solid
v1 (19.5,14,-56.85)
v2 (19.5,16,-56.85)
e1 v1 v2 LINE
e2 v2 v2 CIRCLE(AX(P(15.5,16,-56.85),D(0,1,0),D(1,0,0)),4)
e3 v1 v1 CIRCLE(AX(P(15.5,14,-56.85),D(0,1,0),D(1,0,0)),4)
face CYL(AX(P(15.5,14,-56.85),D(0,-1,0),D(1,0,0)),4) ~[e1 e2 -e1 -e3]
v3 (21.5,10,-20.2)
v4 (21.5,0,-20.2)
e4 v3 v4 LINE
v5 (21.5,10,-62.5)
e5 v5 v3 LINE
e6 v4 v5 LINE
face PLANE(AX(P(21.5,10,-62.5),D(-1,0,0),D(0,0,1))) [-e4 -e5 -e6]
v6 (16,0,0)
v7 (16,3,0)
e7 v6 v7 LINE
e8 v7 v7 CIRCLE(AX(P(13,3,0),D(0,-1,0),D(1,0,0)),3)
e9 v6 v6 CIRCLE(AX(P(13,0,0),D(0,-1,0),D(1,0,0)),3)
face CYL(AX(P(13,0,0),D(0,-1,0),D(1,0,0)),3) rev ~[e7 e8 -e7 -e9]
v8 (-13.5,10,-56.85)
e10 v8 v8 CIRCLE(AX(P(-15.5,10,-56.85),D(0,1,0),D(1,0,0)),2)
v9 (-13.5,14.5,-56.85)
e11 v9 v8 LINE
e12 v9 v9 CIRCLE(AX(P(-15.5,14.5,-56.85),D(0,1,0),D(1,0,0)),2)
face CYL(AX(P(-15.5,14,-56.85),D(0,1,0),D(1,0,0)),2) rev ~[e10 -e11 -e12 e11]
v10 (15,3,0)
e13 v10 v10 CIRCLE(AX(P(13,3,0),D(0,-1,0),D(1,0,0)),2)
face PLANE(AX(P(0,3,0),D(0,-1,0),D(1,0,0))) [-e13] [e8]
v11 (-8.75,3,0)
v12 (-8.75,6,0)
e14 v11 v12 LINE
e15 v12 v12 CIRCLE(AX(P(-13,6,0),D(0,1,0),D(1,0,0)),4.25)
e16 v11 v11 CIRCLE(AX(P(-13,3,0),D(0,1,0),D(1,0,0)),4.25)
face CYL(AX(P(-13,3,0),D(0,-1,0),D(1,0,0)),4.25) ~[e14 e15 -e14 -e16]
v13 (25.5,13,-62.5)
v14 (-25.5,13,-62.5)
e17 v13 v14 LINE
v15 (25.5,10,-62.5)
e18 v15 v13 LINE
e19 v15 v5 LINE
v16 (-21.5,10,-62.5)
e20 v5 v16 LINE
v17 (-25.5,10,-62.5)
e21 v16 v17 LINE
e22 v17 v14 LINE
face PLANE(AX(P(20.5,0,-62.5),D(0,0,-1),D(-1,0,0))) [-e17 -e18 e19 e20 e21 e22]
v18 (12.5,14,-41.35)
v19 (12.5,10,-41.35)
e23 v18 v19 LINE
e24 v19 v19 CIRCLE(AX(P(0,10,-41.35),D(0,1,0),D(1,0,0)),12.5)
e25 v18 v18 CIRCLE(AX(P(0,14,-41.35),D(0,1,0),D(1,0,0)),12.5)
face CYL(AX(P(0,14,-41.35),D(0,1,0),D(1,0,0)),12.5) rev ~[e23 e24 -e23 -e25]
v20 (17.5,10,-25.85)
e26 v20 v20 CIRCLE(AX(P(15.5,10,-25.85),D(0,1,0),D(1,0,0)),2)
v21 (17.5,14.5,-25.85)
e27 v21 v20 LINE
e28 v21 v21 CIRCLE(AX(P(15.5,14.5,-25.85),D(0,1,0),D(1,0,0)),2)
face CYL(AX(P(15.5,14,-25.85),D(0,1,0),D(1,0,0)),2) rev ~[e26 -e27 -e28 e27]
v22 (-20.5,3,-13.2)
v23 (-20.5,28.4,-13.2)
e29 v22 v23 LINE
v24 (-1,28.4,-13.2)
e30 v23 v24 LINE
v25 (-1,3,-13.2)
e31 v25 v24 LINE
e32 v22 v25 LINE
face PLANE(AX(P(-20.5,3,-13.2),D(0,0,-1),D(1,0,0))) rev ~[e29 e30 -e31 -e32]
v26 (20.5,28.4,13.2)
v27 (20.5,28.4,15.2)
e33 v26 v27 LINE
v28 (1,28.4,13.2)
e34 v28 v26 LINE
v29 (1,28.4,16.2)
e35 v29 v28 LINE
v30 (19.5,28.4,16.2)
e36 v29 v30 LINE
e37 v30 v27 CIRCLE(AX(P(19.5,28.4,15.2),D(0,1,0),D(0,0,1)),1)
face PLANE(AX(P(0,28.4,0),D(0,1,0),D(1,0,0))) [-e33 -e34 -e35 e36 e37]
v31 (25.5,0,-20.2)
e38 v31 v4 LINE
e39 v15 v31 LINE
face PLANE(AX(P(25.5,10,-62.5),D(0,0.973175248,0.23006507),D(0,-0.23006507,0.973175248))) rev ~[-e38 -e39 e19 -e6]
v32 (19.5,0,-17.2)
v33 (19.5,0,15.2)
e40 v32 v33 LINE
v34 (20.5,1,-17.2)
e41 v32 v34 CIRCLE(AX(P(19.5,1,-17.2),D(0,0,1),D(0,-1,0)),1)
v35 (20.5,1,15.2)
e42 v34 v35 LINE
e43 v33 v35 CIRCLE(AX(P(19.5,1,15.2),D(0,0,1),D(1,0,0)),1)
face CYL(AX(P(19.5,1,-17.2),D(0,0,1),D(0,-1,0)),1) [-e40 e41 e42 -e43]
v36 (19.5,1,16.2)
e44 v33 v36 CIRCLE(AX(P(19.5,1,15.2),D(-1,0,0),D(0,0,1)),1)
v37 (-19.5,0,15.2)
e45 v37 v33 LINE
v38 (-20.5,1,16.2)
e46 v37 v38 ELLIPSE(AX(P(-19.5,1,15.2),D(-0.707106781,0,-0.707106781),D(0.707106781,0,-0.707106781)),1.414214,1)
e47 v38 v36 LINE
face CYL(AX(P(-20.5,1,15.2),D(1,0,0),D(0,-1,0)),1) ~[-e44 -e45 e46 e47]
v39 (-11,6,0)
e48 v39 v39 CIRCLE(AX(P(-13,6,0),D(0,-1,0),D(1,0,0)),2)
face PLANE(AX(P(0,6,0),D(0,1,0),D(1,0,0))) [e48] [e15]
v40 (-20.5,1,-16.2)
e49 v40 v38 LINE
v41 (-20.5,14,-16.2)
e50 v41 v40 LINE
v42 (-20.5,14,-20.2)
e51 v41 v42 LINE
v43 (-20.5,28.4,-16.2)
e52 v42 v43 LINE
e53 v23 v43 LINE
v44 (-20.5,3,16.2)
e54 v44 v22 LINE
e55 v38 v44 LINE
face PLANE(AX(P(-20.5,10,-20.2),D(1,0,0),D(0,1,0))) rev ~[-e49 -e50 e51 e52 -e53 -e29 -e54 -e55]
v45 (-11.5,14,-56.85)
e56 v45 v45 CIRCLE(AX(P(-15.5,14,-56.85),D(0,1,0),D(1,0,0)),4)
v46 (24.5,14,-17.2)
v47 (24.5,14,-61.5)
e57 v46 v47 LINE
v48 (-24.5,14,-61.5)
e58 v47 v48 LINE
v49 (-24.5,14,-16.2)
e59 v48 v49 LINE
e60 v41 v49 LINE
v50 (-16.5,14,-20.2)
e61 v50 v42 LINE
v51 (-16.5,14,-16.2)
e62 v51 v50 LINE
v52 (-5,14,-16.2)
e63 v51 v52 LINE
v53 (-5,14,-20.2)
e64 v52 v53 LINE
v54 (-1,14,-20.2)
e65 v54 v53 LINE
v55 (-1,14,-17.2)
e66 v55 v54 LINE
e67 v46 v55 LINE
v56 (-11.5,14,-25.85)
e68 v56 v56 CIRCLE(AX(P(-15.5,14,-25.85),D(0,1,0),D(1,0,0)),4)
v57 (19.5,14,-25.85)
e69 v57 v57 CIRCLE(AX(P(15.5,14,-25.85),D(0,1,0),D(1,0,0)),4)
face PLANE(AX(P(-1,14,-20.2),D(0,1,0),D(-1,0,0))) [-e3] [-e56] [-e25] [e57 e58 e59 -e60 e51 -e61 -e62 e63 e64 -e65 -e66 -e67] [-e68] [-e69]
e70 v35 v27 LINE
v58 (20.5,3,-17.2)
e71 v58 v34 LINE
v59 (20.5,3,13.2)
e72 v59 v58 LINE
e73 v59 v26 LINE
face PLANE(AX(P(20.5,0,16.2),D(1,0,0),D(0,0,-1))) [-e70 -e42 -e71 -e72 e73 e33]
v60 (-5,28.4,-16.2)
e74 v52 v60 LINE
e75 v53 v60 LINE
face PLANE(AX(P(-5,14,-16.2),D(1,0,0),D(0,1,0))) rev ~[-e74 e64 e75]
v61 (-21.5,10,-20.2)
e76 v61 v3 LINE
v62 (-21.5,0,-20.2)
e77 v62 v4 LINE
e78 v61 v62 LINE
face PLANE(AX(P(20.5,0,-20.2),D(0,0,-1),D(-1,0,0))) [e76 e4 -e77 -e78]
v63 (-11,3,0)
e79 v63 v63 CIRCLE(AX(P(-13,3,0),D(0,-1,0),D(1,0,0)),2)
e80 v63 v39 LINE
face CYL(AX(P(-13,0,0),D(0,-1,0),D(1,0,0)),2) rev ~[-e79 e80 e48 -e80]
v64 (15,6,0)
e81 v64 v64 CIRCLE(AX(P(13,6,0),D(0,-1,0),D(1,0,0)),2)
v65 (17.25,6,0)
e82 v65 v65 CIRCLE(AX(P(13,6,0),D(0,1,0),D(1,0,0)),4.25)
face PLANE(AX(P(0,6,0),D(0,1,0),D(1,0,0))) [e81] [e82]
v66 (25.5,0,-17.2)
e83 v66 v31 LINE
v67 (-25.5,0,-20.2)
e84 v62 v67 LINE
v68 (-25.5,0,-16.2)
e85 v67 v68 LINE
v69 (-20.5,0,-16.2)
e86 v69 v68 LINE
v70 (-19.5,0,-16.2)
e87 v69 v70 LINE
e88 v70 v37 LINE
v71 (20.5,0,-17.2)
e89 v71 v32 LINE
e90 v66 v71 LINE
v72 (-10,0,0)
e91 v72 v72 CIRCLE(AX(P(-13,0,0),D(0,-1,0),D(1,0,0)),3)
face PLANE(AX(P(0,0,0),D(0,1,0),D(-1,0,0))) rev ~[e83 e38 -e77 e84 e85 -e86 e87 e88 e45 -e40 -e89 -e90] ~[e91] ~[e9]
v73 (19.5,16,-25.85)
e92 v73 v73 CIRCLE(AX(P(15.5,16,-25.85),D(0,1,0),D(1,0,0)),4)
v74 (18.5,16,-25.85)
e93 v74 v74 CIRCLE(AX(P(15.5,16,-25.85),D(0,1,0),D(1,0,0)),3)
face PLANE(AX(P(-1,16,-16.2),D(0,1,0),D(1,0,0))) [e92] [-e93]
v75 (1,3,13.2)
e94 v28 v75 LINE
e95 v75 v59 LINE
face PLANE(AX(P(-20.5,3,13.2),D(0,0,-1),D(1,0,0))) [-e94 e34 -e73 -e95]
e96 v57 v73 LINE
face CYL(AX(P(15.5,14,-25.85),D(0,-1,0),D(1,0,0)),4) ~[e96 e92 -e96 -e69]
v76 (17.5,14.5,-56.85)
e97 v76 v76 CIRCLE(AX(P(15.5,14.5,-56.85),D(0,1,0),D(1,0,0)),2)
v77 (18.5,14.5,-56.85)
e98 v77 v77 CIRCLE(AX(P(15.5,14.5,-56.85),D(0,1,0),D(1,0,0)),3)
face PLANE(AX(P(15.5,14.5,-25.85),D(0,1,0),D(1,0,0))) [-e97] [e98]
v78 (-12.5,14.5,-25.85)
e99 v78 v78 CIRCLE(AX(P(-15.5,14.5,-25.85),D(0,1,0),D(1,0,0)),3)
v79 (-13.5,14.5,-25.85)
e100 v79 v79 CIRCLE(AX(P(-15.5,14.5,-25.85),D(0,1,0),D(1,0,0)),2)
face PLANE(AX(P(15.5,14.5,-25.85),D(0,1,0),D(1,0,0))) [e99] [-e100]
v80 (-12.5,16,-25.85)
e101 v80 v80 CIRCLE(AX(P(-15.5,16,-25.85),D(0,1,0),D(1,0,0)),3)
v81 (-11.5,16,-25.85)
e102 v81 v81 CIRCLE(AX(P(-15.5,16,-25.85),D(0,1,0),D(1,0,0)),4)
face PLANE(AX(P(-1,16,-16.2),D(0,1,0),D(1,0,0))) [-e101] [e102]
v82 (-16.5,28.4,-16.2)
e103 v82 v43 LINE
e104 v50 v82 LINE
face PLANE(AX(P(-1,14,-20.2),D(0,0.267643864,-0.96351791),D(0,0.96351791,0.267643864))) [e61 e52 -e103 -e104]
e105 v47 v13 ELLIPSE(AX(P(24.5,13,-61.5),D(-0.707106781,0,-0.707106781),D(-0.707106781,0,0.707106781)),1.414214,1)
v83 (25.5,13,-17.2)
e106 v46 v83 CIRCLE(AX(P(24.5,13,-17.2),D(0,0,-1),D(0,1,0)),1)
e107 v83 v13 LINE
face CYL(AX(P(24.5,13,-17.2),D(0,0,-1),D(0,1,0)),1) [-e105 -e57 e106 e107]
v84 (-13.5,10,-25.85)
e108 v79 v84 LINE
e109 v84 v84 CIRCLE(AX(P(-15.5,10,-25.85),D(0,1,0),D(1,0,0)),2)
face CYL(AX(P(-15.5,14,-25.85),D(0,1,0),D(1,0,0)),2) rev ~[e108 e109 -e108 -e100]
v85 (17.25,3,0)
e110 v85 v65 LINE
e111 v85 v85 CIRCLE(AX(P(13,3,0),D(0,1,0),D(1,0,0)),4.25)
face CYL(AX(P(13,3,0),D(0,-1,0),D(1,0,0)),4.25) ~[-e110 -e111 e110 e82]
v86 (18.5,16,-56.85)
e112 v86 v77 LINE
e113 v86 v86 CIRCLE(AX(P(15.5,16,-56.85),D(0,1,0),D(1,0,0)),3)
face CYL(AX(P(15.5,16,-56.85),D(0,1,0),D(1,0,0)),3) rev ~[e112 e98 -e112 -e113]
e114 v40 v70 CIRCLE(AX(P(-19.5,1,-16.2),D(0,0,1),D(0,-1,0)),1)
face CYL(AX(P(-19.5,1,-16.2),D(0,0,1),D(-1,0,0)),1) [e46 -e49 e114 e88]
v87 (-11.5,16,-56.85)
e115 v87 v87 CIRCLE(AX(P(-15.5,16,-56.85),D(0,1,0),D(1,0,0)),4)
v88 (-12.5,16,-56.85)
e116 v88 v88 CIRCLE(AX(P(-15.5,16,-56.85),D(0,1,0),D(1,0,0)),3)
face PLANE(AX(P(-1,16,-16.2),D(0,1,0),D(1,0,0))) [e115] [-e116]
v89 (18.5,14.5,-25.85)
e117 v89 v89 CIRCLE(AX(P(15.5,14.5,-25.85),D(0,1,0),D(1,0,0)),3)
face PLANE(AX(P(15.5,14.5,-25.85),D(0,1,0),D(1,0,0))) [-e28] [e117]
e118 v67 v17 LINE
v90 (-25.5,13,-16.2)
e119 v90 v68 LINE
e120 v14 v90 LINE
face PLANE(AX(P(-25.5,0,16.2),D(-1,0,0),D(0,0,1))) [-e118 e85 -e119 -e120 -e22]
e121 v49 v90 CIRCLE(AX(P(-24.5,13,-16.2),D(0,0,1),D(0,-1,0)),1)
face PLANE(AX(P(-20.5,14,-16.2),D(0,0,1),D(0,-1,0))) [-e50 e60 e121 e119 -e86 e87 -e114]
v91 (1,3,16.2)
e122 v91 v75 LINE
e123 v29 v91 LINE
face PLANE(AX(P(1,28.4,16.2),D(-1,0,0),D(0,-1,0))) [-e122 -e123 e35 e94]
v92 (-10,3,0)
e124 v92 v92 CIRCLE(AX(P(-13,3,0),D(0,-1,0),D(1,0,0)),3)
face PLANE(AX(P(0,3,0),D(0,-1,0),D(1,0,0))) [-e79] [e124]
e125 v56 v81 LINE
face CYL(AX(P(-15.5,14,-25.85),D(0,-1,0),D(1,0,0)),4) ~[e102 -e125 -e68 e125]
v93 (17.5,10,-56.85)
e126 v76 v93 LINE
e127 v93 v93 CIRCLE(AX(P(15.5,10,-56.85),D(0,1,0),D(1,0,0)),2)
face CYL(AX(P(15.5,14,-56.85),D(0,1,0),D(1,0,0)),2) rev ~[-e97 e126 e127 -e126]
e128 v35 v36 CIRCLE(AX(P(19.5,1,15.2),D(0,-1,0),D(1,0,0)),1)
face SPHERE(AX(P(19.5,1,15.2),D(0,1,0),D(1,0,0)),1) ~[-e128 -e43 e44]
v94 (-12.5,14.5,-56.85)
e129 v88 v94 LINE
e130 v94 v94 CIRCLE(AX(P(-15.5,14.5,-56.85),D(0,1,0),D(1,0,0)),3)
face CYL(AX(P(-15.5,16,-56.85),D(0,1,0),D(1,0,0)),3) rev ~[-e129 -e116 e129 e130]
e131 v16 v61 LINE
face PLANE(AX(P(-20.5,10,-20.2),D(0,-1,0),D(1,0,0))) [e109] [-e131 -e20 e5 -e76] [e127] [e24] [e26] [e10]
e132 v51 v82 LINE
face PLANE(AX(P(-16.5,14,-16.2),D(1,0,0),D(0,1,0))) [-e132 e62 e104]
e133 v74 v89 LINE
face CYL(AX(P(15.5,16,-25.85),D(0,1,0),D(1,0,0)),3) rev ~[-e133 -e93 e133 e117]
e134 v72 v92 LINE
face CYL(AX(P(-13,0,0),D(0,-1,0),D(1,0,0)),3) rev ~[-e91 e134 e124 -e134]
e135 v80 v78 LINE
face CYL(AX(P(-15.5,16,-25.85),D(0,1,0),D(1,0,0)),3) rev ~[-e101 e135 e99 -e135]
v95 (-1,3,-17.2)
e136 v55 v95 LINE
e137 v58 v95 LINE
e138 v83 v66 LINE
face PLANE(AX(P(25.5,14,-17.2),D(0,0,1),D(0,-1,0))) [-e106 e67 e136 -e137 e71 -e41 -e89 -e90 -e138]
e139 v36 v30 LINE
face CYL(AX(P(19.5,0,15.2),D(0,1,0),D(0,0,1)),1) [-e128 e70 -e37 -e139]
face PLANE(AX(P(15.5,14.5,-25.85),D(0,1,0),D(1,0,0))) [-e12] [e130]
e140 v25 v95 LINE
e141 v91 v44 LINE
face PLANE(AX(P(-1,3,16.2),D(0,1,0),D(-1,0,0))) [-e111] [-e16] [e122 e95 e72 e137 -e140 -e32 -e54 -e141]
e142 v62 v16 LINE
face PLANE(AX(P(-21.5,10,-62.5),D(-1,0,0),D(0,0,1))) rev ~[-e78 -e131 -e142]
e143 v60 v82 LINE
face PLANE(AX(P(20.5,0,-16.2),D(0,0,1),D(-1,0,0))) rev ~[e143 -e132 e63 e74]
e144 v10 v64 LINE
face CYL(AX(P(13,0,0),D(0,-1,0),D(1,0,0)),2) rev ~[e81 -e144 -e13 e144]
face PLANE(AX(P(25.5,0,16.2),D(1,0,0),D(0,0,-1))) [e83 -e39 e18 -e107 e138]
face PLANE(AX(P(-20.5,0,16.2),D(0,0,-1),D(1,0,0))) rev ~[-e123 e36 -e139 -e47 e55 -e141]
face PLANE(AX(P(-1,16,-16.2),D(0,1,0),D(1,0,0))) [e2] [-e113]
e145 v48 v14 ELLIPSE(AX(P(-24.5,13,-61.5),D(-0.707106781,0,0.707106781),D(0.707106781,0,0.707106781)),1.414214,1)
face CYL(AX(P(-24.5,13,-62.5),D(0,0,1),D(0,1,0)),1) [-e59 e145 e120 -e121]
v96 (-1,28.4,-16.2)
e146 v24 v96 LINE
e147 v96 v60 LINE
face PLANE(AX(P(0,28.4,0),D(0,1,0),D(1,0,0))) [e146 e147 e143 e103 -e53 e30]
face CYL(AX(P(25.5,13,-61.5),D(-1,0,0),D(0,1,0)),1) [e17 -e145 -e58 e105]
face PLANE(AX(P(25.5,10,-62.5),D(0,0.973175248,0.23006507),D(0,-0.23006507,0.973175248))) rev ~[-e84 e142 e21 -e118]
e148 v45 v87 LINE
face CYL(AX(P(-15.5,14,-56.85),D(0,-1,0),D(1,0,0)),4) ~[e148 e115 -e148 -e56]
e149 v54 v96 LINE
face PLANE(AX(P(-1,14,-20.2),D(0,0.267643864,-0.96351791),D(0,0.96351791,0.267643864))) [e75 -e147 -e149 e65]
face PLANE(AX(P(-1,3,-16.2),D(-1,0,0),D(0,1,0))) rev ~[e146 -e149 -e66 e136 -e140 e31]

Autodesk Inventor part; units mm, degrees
ref_plane "YZ Plane" through (0, 0, 0) normal (1, 0, 0) x (0, 1, 0)
ref_plane "XZ Plane" through (0, 0, 0) normal (0, 1, 0) x (-1, 0, 0)
ref_plane "XY Plane" through (0, 0, 0) normal (0, 0, 1) x (1, 0, 0)
sketch "Sketch1" plane through (0, 0, 0) normal (0, 1, 0) x (-1, 0, 0)
  line L0 (20.5, 16.2) -> (-20.5, 16.2)
  line L1 (-20.5, 16.2) -> (-20.5, -16.2)
  line L2 (-20.5, -16.2) -> (20.5, -16.2)
  line L3 (20.5, -16.2) -> (20.5, 16.2)
  point P0 (0, 0)
  dimension "d0" = 41
  dimension "d1" = 32.4
extrude "Extrusion1" add sketch "Sketch1" along normal blind 3
sketch "Sketch3" plane through (0, 3, 0) normal (0, 1, 0) x (1, 0, 0)
  line L0 (-20.5, -16.2) -> (20.5, -16.2) projected
  line L1 (-20.5, 16.2) -> (-20.5, -16.2) projected
  line L2 (20.5, -16.2) -> (-20.5, -16.2)
  line L3 (-20.5, -16.2) -> (-20.5, -13.2)
  line L4 (-20.5, -13.2) -> (20.5, -13.2)
  line L5 (20.5, -13.2) -> (20.5, -16.2)
  line L6 (20.5, 16.2) -> (-20.5, 16.2) projected
  line L7 (20.5, 16.2) -> (-20.5, 16.2)
  line L8 (-20.5, 16.2) -> (-20.5, 13.2)
  line L9 (-20.5, 13.2) -> (20.5, 13.2)
  line L10 (20.5, 13.2) -> (20.5, 16.2)
  point P0 (0, 0)
  dimension "d8" = 3
  dimension "d9" = 3
extrude "Extrusion3" add sketch "Sketch3" along normal blind 25.4
sketch "Sketch4" plane through (20.5, 0, -16.2) normal (0, 0, -1) x (-1, 0, 0)
  line L0 (41, 3) -> (0, 3) projected
  line L1 (0, 28.4) -> (41, 28.4) projected
  line L2 (0, 3) -> (21.5, 3)
  line L3 (21.5, 3) -> (21.5, 28.4)
  line L4 (21.5, 28.4) -> (0, 28.4)
  line L5 (0, 28.4) -> (0, 3)
  point P0 (20.5, 0)
  dimension "d12" = 21.5
extrude "Extrusion4" cut sketch "Sketch4" against normal blind 3
sketch "Sketch5" plane through (-20.5, 0, 16.2) normal (0, 0, 1) x (1, 0, 0)
  line L0 (41, 28.4) -> (0, 28.4) projected
  line L1 (19.5, 3) -> (41, 3) projected
  line L2 (0, 28.4) -> (21.5, 28.4)
  line L3 (21.5, 28.4) -> (21.5, 3)
  line L4 (21.5, 3) -> (0, 3)
  line L5 (0, 3) -> (0, 28.4)
  point P0 (20.5, 0)
  dimension "d15" = 21.5
extrude "Extrusion5" cut sketch "Sketch5" against normal blind 3
sketch "Sketch6" plane through (0, 3, 0) normal (0, 1, 0) x (1, 0, 0)
  circle A0 centre (13, 0) radius 4.25
  circle A1 centre (-13, 0) radius 4.25
  line L0 (20.5, -13.2) -> (20.5, 16.2) projected
  line L1 (-20.5, 13.2) -> (-20.5, -16.2) projected
  point P0 (0, 0)
  dimension "d20" = 8.5
  dimension "d21" = 8.5
  dimension "d54" = 7.5
  dimension "d65" = 26
  dimension "d66" = 7.5
extrude "Extrusion6" add sketch "Sketch6" along normal blind 3
sketch "Sketch7" plane through (0, 0, 0) normal (0, -1, 0) x (1, 0, 0)
  circle A0 centre (-13, 0) radius 4.25 projected
  circle A1 centre (-13, 0) radius 2
  circle A2 centre (13, 0) radius 4.25 projected
  circle A3 centre (13, 0) radius 2
  point P0 (0, 0)
  dimension "d24" = 4
  dimension "d25" = 4
extrude "Extrusion7" cut sketch "Sketch7" against normal blind 6 contours A1 | A3
sketch "Sketch8" plane through (0, 0, 0) normal (0, -1, 0) x (1, 0, 0)
  circle A0 centre (-13, 0) radius 2 projected
  circle A1 centre (-13, 0) radius 3
  circle A2 centre (13, 0) radius 2 projected
  circle A3 centre (13, 0) radius 3
  point P0 (0, 0)
  dimension "d28" = 6
  dimension "d29" = 6
extrude "Extrusion8" cut sketch "Sketch8" against normal blind 3 contours A0 | A1 | A2 | A3
sketch "Sketch14" plane through (-20.5, 0, 16.2) normal (0, 0, 1) x (1, 0, 0)
  point P0 (20.5, 0)
sketch "Sketch15" plane through (20.5, 0, -16.2) normal (0, 0, -1) x (-1, 0, 0)
  line L0 (0, 0) -> (0, 3) projected
  line L1 (41, 0) -> (41, 28.4) projected
  line L2 (0, 0) -> (41, 0)
  line L3 (41, 0) -> (41, 14)
  line L4 (41, 14) -> (0, 14)
  line L5 (0, 14) -> (0, 0)
  line L6 (21.5, 28.4) -> (41, 28.4) projected
  line L7 (41, 14) -> (37, 14)
  line L8 (37, 14) -> (37, 28.4)
  line L9 (37, 28.4) -> (41, 28.4)
  line L10 (41, 28.4) -> (41, 14)
  line L11 (21.5, 3) -> (21.5, 28.4) projected
  line L12 (21.5, 14) -> (25.5, 14)
  line L13 (25.5, 14) -> (25.5, 28.4)
  line L14 (25.5, 28.4) -> (21.5, 28.4)
  line L15 (21.5, 28.4) -> (21.5, 14)
  point P0 (20.5, 0)
  dimension "d67" = 14
  dimension "d68" = 4
  dimension "d69" = 4
extrude "Extrusion14" add sketch "Sketch15" along normal blind 4 contours L0 L5 L4 L1 L2 | L4 L8 L6 L1 | L11 L6 L13 L4
sketch "Sketch16" plane through (20.5, 0, -20.2) normal (0, 0, -1) x (-1, 0, 0)
  line L0 (21.5, 14) -> (0, 14) projected
  line L1 (41, 3) -> (41, 28.4) projected
  line L2 (0, 14) -> (41, 14)
  line L3 (41, 14) -> (41, 10)
  line L4 (41, 10) -> (0, 10)
  line L5 (0, 10) -> (0, 14)
  point P0 (20.5, 0)
  point P1 (41, 14)
  dimension "d72" = 4
extrude "Extrusion15" add sketch "Sketch16" along normal blind 42.3
sketch "Sketch17" plane through (-1, 14, -16.2) normal (0, 1, 0) x (1, 0, 0)
  circle A0 centre (16.5, 40.65) radius 4
  circle A1 centre (-14.5, 40.65) radius 4
  circle A2 centre (-14.5, 9.65) radius 4
  circle A3 centre (16.5, 9.65) radius 4
  point P0 (1, -16.2)
  dimension "d76" = 8
  dimension "d77" = 8
  dimension "d78" = 8
  dimension "d79" = 8
extrude "Extrusion16" add sketch "Sketch17" along normal blind 2
sketch "Sketch18" plane through (-1, 14, -16.2) normal (0, 1, 0) x (1, 0, 0)
  circle A0 centre (1, 25.15) radius 12.5
  circle A1 centre (-14.5, 40.65) radius 4 projected
  circle A2 centre (-14.5, 40.65) radius 2
  circle A3 centre (-14.5, 9.65) radius 4 projected
  circle A4 centre (-14.5, 9.65) radius 2
  circle A5 centre (16.5, 9.65) radius 4 projected
  circle A6 centre (16.5, 9.65) radius 2
  circle A7 centre (16.5, 40.65) radius 4 projected
  circle A8 centre (16.5, 40.65) radius 2
  point P0 (1, -16.2)
  dimension "d82" = 25
  dimension "d83" = 4
  dimension "d84" = 4
  dimension "d85" = 4
  dimension "d86" = 4
extrude "Extrusion17" cut sketch "Sketch18" along normal mid plane 10 contours A0 | A2 | A4 | A6 | A8
sketch "Sketch19" plane through (15.5, 16, -25.85) normal (0, 1, 0) x (1, 0, 0)
  circle A0 centre (-31, 0) radius 2 projected
  circle A1 centre (-31, 0) radius 3
  circle A2 centre (0, 0) radius 2 projected
  circle A3 centre (0, 0) radius 3
  circle A4 centre (0, 31) radius 2 projected
  circle A5 centre (0, 31) radius 3
  circle A6 centre (-31, 31) radius 2 projected
  circle A7 centre (-31, 31) radius 3
  point P0 (-15.5, -25.85)
  dimension "d89" = 6
  dimension "d90" = 6
  dimension "d91" = 6
  dimension "d92" = 6
extrude "Extrusion18" cut sketch "Sketch19" against normal blind 1.5 contours A0 | A1 | A2 | A3 | A4 | A5 | A6 | A7
sketch "Sketch20" plane through (20.5, 0, 16.2) normal (1, 0, 0) x (0, 0, -1)
  line L0 (36.4, 14) -> (78.7, 14) projected
  line L1 (78.7, 14) -> (36.4, 14)
  line L2 (36.4, 14) -> (36.4, 10)
  line L3 (36.4, 10) -> (78.7, 10)
  line L4 (78.7, 10) -> (78.7, 14)
  line L5 (32.4, 14) -> (32.4, 3) projected
  line L6 (36.4, 0) -> (36.4, 10) projected
  line L7 (32.4, 14) -> (36.4, 14)
  line L8 (36.4, 14) -> (36.4, 0)
  line L9 (36.4, 0) -> (32.4, 0)
  line L10 (32.4, 0) -> (32.4, 14)
  point P0 (16.2, 0)
extrude "Extrusion19" add sketch "Sketch20" along normal blind 5
sketch "Sketch21" plane through (-20.5, 0, 16.2) normal (-1, 0, 0) x (0, 0, 1)
  line L0 (-78.7, 14) -> (-32.4, 14) projected
  line L1 (-36.4, 10) -> (-78.7, 10) projected
  line L2 (-78.7, 14) -> (-36.4, 14)
  line L3 (-36.4, 14) -> (-36.4, 10)
  line L4 (-36.4, 10) -> (-78.7, 10)
  line L5 (-78.7, 10) -> (-78.7, 14)
  line L6 (0, 0) -> (-36.4, 0) projected
  line L7 (-32.4, 0) -> (-36.4, 0)
  line L8 (-36.4, 0) -> (-36.4, 14)
  line L9 (-36.4, 14) -> (-32.4, 14)
  line L10 (-32.4, 14) -> (-32.4, 0)
  point P0 (-16.2, 0)
extrude "Extrusion20" add sketch "Sketch21" along normal blind 5
sketch "Sketch22" plane through (25.5, 10, -62.5) normal (0, -1, 0) x (1, 0, 0)
  line L0 (0, 0) -> (0, 46.3) projected
  line L1 (-51, 42.3) -> (0, 42.3) projected
  line L2 (0, 0) -> (-4, 0)
  line L3 (-4, 0) -> (-4, 42.3)
  line L4 (-4, 42.3) -> (0, 42.3)
  line L5 (0, 42.3) -> (0, 0)
  line L6 (-51, 46.3) -> (-51, 0) projected
  line L7 (-51, 0) -> (-47, 0)
  line L8 (-47, 0) -> (-47, 42.3)
  line L9 (-47, 42.3) -> (-51, 42.3)
  line L10 (-51, 42.3) -> (-51, 0)
  point P0 (-25.5, 62.5)
  dimension "d99" = 4
  dimension "d100" = 4
extrude "Extrusion21" add sketch "Sketch22" along normal blind 10
sketch "Sketch23" plane through (25.5, 0, 16.2) normal (1, 0, 0) x (0, 0, -1)
  line L0 (36.4, 10) -> (78.7, 10) projected
  line L1 (36.4, 10) -> (36.4, 0) projected
  line L2 (78.7, 10) -> (36.4, 0)
  line L3 (36.4, 0) -> (78.7, 0)
  line L4 (78.7, 0) -> (78.7, 10)
  point P0 (16.2, 0)
extrude "Extrusion22" cut sketch "Sketch23" against normal blind 60 contours L4 L3 L2
sketch "Sketch24" plane through (-1, 3, -13.2) normal (1, 0, 0) x (0, 0, -1)
  line L0 (7, 25.4) -> (7, 11) projected
  line L1 (3, 25.4) -> (3, 11) projected
  line L2 (7, 11) -> (3, 25.4)
  line L3 (0, 25.4) -> (7, 25.4) projected
  line L4 (3, 25.4) -> (7, 25.4)
  line L5 (7, 25.4) -> (7, 11)
  point P0 (-13.2, -3)
extrude "Extrusion23" cut sketch "Sketch24" against normal blind 60
sketch "Sketch25" plane through (25.5, 0, 16.2) normal (1, 0, 0) x (0, 0, -1)
  line L0 (32.4, 14) -> (32.4, 28.4) projected
  line L1 (32.4, 14) -> (33.4, 14)
  line L2 (33.4, 14) -> (33.4, 3)
  line L3 (33.4, 3) -> (32.4, 3)
  line L4 (32.4, 3) -> (32.4, 14)
  point P0 (16.2, 0)
  dimension "d107" = 1
extrude "Extrusion24" cut sketch "Sketch25" against normal blind 26.5
sketch "Sketch26" plane through (25.5, 0, 16.2) normal (1, 0, 0) x (0, 0, -1)
  line L0 (33.4, 3) -> (32.4, 3) projected
  line L1 (32.4, 0) -> (36.4, 0) projected
  line L2 (32.4, 3) -> (33.4, 3)
  line L3 (33.4, 3) -> (33.4, 0)
  line L4 (33.4, 0) -> (32.4, 0)
  line L5 (32.4, 0) -> (32.4, 3)
  point P0 (16.2, 0)
  dimension "d110" = 1
extrude "Extrusion25" cut sketch "Sketch26" against normal blind 5
fillet "Fillet2" radius 1 7 edges at (20.5, 14.2, 16.2) (20.5, 0, -0.5) (0, 0, 16.2) (-20.5, 0, 0) (-25.5, 14, -39.35) (0, 14, -62.5) (25.5, 14, -39.85)
properties part number "stepperBracketVertical"
